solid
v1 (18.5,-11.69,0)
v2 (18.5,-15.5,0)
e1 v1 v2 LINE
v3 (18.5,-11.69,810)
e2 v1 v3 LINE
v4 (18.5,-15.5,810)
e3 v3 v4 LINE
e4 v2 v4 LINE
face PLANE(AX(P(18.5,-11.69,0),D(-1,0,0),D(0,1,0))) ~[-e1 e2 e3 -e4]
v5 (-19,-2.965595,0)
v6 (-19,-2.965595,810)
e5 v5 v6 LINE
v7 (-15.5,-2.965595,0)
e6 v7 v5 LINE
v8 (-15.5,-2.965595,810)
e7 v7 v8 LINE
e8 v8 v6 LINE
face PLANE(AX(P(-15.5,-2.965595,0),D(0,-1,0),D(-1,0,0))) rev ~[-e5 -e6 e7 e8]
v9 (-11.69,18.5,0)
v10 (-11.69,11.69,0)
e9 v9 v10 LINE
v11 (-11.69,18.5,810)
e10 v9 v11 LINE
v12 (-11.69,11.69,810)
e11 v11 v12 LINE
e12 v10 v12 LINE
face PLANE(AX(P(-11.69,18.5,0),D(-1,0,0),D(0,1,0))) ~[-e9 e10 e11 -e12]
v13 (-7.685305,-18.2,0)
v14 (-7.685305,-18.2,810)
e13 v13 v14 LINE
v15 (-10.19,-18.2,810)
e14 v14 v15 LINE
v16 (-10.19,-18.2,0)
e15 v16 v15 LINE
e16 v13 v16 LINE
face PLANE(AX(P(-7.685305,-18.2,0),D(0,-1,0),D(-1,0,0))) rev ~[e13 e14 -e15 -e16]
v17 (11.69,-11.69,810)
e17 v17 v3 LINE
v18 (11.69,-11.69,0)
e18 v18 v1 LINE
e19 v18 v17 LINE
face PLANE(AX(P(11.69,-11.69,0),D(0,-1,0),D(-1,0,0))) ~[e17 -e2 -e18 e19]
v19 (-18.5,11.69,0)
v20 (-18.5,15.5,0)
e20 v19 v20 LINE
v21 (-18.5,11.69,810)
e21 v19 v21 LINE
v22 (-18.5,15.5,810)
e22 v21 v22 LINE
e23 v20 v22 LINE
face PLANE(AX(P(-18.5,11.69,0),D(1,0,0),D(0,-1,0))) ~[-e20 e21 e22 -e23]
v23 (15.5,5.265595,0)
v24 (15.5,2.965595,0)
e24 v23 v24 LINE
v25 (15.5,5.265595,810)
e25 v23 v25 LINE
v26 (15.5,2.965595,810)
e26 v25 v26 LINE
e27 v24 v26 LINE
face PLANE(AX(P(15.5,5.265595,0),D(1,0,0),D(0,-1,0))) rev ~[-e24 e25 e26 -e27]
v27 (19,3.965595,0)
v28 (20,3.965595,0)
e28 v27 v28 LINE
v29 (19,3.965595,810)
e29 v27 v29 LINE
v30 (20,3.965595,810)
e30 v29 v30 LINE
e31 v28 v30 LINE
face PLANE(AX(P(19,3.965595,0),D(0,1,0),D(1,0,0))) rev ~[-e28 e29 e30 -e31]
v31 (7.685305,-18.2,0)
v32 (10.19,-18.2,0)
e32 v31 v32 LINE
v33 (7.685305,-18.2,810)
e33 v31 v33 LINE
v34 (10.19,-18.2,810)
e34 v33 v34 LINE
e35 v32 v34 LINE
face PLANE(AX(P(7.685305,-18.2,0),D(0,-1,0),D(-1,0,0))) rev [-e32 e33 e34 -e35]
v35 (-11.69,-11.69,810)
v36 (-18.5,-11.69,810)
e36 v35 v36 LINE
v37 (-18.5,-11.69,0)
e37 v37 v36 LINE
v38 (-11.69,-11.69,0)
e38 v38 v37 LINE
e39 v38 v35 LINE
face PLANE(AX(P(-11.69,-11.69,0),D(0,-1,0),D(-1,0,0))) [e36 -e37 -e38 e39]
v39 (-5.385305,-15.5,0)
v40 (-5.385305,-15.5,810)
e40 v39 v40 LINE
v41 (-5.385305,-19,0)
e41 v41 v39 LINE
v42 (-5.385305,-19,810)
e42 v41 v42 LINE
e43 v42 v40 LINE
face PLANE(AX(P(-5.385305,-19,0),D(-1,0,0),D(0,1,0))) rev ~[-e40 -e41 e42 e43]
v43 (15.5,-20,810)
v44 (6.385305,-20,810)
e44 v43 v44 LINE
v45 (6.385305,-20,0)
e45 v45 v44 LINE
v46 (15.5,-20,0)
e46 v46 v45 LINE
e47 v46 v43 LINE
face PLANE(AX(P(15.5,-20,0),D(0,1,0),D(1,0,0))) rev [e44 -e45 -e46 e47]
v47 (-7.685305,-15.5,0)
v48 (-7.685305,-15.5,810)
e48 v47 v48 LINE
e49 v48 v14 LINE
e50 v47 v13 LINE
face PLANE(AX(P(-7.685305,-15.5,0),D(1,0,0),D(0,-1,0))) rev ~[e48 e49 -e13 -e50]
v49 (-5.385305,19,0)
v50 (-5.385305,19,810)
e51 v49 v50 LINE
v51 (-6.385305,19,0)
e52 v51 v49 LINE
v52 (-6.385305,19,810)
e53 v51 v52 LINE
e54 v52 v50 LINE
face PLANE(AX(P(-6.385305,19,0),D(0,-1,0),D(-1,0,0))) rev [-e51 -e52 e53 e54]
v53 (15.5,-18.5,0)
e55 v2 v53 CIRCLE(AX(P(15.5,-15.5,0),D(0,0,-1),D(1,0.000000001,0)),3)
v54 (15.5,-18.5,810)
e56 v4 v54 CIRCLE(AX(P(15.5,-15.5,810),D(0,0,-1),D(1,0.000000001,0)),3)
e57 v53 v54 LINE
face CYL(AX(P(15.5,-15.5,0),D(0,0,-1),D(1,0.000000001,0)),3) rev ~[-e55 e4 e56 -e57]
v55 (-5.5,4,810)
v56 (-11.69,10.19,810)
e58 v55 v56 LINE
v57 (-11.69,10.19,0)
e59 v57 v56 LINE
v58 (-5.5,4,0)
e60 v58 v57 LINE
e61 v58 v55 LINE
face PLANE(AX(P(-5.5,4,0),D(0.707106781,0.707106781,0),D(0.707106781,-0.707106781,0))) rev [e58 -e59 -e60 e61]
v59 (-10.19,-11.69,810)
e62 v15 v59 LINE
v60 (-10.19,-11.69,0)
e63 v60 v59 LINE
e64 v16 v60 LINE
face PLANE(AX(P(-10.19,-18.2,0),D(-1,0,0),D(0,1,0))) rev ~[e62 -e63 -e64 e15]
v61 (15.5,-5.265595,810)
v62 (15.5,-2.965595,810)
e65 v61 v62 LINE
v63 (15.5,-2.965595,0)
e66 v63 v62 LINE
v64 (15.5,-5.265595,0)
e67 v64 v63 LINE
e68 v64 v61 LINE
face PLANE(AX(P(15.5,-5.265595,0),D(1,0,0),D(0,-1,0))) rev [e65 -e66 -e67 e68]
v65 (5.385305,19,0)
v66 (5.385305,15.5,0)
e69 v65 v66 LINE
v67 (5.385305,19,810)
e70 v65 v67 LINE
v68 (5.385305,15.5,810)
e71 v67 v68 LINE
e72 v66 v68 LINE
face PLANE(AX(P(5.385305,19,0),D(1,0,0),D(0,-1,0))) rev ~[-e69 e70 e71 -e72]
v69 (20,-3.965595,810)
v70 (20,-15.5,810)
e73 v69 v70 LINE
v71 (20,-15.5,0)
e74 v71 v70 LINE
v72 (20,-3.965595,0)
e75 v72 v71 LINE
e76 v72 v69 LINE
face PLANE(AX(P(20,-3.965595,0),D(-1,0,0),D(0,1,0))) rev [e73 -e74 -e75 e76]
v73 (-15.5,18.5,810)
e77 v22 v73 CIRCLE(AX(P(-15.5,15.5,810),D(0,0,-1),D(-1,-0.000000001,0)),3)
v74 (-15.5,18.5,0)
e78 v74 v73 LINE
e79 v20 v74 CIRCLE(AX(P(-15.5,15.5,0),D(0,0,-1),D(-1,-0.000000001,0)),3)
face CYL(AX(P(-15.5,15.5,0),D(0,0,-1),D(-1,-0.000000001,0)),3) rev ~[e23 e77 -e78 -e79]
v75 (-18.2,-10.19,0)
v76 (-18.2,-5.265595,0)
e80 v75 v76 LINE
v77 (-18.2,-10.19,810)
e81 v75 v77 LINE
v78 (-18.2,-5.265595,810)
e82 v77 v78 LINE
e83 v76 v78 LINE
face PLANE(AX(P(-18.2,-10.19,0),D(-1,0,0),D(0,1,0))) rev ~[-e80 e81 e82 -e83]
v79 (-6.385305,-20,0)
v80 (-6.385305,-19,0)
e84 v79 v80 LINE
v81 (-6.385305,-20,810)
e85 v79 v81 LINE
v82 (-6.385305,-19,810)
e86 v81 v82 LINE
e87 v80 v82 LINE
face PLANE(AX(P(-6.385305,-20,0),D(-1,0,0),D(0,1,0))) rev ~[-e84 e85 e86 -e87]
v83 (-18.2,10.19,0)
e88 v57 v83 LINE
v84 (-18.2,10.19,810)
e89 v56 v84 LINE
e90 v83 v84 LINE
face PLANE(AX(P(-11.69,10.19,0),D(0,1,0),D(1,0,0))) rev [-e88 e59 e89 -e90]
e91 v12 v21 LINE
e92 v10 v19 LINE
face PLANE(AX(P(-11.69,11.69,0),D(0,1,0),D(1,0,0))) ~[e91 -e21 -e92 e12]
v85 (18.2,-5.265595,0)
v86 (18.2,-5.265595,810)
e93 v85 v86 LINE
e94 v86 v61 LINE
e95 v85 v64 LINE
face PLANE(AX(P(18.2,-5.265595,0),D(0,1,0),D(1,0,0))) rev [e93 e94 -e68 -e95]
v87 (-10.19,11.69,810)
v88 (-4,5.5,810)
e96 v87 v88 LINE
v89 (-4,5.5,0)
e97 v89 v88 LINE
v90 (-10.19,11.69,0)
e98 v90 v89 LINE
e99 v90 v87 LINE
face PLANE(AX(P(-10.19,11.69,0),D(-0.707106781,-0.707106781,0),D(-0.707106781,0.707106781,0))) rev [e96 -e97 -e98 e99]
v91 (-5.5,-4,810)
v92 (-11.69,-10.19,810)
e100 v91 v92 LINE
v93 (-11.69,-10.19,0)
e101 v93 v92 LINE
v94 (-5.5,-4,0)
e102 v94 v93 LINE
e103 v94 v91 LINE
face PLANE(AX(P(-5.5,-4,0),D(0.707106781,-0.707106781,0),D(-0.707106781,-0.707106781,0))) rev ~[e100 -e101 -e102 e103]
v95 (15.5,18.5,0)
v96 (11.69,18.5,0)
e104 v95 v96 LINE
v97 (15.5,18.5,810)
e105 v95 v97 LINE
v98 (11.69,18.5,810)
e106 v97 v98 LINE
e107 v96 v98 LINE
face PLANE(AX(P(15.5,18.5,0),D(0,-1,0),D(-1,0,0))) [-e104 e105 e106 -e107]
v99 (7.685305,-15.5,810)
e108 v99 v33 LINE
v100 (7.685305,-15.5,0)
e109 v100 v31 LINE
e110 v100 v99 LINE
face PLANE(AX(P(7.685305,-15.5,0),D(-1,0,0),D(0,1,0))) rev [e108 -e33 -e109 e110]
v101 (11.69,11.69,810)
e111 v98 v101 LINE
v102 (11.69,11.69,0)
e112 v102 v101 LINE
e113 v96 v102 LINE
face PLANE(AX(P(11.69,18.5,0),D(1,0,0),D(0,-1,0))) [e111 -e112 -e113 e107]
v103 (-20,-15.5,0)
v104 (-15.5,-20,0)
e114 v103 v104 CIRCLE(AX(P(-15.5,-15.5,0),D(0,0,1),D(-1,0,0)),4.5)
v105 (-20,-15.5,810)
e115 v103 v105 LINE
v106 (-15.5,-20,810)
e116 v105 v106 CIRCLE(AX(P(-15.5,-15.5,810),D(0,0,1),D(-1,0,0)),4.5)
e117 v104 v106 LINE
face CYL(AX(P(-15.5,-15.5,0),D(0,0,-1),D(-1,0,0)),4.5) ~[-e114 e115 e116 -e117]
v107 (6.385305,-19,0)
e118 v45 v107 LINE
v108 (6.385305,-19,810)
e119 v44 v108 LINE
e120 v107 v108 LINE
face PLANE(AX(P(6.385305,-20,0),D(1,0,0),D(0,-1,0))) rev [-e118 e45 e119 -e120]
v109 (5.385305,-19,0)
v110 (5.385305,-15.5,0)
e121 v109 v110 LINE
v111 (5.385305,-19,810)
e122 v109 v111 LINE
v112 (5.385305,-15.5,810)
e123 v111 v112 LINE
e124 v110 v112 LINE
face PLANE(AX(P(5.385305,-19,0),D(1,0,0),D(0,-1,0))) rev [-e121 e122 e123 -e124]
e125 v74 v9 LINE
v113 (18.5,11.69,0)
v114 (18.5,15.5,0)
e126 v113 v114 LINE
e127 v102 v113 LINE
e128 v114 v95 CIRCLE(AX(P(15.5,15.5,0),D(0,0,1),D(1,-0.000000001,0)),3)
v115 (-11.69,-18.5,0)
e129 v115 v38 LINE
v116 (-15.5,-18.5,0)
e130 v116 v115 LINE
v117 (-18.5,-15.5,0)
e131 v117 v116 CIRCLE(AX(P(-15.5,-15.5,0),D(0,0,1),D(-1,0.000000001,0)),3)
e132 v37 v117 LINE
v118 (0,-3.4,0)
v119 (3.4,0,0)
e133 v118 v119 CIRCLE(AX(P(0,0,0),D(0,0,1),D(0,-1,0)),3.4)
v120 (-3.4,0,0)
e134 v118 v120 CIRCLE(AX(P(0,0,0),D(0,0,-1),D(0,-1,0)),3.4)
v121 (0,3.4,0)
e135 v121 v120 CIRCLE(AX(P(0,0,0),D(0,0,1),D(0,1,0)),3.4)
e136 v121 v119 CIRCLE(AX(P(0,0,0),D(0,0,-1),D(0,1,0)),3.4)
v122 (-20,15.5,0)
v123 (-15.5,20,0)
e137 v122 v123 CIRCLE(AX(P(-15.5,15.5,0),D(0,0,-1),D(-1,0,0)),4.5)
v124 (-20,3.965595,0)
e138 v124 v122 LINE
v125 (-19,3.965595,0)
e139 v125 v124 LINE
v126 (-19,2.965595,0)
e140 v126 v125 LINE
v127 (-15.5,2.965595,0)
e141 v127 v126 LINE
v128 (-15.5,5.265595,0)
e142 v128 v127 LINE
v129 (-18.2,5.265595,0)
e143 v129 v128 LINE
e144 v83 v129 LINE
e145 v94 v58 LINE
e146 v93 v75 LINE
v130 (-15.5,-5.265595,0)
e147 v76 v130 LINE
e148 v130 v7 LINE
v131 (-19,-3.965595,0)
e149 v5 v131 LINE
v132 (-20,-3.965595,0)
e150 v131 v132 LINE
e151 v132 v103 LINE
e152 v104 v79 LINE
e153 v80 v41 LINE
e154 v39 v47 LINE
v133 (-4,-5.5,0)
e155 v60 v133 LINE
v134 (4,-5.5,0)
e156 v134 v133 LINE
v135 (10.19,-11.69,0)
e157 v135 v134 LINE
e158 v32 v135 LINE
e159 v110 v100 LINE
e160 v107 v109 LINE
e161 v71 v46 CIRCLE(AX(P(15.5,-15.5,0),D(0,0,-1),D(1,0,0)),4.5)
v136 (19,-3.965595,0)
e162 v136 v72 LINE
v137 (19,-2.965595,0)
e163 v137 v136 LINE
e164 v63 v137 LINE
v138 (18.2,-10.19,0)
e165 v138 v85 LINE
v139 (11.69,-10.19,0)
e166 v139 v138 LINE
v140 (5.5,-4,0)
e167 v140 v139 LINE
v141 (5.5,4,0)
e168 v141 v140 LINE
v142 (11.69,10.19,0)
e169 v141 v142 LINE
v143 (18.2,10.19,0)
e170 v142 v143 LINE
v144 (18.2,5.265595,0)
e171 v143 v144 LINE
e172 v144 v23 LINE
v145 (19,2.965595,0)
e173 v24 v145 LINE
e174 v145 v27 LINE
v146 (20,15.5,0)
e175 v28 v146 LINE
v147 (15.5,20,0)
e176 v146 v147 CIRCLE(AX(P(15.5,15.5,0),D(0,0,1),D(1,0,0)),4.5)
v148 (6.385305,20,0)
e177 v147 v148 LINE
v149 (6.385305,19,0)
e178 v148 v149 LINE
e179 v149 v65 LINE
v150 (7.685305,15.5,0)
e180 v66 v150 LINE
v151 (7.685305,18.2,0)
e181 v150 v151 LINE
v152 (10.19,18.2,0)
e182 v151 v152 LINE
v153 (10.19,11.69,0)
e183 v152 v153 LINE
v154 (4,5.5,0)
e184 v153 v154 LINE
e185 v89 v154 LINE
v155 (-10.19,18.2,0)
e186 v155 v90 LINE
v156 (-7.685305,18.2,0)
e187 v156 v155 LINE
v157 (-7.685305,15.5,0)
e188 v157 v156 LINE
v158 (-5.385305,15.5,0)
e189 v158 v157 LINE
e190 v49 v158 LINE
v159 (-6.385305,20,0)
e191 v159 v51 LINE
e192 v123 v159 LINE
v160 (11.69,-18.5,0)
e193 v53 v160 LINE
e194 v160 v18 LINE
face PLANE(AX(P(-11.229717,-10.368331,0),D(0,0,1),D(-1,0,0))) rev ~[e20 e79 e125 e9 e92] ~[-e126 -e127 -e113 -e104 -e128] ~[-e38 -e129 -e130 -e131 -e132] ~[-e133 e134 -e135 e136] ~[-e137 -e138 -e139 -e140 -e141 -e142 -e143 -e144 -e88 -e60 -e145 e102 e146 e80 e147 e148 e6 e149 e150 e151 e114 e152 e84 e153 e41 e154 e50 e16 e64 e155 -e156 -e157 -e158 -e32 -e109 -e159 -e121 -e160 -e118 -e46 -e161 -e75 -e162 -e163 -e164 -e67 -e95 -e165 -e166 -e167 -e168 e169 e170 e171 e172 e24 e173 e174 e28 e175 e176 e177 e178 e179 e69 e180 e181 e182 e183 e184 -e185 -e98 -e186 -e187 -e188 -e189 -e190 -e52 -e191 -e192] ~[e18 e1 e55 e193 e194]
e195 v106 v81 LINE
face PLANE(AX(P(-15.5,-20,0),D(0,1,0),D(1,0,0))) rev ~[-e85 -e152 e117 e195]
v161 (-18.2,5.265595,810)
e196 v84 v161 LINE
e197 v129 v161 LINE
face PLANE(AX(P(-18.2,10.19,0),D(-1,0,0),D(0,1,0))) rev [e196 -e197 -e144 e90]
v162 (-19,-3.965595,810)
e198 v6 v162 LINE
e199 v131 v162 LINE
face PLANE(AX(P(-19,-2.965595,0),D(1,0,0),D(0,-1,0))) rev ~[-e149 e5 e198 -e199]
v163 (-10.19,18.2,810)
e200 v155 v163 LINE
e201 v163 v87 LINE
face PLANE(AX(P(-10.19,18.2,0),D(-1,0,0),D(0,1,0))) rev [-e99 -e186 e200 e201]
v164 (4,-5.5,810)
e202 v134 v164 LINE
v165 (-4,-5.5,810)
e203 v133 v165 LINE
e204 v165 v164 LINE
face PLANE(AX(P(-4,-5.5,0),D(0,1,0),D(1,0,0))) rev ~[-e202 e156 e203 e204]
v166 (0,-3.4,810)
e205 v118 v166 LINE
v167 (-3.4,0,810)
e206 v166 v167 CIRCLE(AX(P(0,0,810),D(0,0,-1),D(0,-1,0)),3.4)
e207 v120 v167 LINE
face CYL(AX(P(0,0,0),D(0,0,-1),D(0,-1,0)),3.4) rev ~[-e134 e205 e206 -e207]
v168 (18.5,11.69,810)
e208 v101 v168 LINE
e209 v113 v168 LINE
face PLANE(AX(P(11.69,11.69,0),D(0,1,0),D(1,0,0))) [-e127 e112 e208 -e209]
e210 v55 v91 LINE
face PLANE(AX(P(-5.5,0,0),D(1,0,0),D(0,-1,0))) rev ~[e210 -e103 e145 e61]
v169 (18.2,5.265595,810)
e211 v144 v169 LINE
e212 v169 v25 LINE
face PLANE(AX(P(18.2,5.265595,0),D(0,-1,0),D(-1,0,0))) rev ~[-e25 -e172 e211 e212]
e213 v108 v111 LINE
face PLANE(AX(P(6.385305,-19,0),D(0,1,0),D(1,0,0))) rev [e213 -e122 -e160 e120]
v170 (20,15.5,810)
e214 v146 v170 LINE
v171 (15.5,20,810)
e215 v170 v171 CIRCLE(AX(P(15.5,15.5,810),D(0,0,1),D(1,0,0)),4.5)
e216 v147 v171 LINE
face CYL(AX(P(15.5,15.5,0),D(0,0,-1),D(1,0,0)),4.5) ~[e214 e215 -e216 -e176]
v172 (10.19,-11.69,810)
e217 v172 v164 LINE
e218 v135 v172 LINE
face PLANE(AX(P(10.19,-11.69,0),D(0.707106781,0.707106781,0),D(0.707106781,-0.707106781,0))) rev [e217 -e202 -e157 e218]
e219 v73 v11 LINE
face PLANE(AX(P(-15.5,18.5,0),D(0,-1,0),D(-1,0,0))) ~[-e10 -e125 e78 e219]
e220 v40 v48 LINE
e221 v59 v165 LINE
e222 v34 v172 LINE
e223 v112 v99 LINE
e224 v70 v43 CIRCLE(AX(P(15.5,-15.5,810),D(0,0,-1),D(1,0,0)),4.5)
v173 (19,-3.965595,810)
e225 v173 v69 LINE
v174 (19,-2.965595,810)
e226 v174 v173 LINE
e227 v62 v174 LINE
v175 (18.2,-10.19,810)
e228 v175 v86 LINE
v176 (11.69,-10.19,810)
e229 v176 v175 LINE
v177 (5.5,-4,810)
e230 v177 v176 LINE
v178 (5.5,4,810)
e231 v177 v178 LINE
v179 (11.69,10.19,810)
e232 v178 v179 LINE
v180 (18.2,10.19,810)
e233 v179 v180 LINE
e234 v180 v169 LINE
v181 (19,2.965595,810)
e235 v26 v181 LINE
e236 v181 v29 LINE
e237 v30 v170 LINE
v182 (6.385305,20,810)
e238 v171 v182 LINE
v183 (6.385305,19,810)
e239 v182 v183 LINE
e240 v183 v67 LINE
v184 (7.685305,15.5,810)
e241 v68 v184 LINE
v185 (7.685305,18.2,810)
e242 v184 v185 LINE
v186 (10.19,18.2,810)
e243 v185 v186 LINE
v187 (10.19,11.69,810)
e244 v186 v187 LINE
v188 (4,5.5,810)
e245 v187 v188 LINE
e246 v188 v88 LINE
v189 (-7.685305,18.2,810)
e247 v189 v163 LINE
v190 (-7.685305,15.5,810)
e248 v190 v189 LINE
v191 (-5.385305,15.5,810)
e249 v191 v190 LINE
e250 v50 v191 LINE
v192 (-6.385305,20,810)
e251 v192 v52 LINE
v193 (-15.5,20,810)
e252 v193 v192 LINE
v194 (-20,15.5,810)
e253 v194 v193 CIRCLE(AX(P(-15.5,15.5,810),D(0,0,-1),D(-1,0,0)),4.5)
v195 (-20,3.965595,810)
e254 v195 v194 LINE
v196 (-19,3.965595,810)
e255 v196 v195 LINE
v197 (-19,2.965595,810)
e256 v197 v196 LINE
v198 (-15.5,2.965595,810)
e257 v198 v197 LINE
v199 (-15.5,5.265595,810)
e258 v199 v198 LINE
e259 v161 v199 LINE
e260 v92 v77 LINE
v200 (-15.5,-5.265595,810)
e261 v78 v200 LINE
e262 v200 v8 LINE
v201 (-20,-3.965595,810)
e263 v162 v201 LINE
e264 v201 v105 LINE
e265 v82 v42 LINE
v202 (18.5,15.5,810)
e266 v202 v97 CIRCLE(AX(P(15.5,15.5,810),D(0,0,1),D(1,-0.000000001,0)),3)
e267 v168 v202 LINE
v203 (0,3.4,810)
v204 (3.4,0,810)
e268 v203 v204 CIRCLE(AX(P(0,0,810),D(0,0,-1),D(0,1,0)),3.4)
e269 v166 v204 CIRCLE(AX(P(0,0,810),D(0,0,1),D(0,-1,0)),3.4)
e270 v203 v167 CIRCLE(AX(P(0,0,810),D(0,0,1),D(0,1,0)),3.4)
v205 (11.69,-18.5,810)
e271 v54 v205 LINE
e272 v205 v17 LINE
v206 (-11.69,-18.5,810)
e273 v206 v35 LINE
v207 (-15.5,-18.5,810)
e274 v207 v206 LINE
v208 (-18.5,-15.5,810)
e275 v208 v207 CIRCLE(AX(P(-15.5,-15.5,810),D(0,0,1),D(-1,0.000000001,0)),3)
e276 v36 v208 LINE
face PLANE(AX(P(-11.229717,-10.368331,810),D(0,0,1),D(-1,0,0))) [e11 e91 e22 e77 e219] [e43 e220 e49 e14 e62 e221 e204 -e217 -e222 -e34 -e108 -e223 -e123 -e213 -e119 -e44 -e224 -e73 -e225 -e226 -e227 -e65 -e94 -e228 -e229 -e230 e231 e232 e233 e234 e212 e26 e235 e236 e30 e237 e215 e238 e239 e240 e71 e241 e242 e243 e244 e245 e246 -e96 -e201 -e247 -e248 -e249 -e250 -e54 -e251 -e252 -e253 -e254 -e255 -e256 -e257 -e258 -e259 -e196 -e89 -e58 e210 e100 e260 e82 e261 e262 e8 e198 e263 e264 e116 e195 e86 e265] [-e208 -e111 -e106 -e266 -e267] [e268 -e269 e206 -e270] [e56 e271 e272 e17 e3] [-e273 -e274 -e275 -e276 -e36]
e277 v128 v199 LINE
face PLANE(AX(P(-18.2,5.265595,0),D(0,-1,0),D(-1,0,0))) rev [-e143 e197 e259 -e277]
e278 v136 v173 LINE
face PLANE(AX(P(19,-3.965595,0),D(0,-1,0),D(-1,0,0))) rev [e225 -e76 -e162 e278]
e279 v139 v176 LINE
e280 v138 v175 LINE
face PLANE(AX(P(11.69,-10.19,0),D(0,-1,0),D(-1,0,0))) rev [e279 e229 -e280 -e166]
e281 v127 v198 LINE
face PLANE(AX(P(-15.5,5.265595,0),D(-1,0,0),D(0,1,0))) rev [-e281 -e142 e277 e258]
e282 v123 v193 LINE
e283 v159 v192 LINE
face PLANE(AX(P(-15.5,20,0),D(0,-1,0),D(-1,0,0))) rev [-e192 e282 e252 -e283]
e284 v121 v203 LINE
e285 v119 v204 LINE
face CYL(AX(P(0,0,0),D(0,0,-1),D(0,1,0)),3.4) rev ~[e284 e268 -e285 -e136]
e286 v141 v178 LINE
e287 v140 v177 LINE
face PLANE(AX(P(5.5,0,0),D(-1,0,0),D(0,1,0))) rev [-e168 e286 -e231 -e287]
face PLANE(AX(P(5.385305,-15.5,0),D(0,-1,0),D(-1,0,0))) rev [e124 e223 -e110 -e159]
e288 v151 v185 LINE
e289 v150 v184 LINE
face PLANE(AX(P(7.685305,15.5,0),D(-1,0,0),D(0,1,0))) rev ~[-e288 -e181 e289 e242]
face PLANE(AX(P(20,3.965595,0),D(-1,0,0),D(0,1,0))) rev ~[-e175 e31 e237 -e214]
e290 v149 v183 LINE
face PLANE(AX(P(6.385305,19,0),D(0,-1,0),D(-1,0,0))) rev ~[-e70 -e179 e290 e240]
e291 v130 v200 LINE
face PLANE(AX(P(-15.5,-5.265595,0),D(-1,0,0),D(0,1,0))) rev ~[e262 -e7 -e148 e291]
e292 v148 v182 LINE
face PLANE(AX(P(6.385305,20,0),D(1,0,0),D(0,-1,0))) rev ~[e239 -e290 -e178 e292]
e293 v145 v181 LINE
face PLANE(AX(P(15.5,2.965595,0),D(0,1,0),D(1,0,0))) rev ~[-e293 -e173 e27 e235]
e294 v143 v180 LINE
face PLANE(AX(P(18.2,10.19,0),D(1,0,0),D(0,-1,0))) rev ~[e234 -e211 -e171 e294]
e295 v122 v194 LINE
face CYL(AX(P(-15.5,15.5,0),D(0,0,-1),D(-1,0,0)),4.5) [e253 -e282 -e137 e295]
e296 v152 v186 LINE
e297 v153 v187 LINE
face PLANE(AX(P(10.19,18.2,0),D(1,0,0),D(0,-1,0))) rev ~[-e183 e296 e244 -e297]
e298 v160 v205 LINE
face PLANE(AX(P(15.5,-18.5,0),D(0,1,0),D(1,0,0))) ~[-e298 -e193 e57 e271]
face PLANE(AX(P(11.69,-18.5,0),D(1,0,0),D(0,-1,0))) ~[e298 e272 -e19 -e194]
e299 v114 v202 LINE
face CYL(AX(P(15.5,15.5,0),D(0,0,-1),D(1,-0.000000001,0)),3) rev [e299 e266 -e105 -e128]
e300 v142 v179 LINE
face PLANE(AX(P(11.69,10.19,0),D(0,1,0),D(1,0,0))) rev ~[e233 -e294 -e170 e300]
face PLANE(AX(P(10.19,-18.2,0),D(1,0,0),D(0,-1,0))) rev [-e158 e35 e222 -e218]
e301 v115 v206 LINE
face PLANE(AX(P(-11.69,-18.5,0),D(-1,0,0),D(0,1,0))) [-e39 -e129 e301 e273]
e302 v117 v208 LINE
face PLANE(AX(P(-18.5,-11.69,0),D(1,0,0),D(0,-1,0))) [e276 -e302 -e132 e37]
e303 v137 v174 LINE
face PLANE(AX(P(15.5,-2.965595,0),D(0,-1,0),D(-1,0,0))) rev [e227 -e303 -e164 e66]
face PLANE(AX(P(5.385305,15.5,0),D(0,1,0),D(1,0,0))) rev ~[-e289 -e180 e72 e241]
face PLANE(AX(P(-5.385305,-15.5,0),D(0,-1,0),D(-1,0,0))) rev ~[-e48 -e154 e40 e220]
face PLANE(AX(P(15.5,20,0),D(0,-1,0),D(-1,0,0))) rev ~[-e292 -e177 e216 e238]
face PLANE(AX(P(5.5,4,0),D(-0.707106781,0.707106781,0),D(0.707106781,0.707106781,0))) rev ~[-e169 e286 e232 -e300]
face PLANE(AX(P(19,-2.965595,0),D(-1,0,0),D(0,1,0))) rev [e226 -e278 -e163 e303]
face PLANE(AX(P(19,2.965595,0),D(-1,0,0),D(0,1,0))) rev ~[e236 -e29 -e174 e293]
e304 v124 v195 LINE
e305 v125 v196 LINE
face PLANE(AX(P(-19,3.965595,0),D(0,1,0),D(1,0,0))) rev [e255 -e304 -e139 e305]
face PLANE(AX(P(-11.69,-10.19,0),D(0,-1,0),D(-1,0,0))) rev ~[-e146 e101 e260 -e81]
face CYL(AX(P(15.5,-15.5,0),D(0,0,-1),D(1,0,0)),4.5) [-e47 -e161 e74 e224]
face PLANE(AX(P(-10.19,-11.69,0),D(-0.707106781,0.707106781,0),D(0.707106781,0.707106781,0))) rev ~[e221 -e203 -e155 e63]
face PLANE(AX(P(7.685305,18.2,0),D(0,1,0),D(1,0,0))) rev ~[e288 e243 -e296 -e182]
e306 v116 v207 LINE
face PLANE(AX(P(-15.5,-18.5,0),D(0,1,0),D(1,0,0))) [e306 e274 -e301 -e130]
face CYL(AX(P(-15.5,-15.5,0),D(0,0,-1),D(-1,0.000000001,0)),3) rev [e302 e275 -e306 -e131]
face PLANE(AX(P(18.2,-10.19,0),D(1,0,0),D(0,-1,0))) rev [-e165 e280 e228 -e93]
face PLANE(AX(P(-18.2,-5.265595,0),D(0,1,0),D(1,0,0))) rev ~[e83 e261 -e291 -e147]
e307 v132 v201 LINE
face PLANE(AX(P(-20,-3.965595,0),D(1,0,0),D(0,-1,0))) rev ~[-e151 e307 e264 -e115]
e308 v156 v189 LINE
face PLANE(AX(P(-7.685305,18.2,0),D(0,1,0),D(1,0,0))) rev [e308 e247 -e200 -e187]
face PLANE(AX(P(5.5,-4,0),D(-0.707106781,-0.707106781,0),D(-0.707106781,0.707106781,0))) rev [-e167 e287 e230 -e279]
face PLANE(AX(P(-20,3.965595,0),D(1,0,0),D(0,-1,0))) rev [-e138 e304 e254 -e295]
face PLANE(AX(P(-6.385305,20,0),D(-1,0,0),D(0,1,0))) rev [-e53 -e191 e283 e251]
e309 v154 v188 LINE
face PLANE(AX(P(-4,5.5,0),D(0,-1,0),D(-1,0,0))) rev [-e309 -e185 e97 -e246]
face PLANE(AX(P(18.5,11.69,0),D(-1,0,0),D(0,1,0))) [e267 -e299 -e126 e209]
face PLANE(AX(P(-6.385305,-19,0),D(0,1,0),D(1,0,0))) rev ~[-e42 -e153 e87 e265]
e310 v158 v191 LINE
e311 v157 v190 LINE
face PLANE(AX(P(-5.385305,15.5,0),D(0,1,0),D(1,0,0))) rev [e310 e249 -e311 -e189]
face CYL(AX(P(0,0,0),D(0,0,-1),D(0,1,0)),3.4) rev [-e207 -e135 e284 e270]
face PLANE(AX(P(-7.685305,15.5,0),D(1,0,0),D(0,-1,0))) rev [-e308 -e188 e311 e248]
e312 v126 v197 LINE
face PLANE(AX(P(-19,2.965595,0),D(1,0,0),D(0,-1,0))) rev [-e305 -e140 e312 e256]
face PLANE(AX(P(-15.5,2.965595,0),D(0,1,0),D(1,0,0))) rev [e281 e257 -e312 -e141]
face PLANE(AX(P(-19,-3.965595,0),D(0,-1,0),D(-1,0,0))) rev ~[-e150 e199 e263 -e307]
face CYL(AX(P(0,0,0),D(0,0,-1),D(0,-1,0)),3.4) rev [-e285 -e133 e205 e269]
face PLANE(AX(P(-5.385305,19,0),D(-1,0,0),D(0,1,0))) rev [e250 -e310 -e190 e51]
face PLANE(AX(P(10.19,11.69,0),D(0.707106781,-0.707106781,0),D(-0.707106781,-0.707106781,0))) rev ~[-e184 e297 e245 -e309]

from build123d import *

# Parameters (mm, degrees)
BOSS_EXTRUDE1_DEPTH  = 810
MIRROR3_COPY_1_DEPTH = 810
MIRROR3_COPY_2_DEPTH = 810


with BuildPart() as part:
    # Sketch1 → Boss-Extrude1 (new body)
    with BuildSketch(Plane.XY):
        with BuildLine():
            Line((3.4, 0), (5.5, 0))
            Line((5.5, 0), (5.5, 4))
            Line((5.5, 4), (11.69, 10.19))
            Line((11.69, 10.19), (18.2, 10.19))
            Line((18.2, 10.19), (18.2, 5.265595036))
            Line((18.2, 5.265595036), (15.5, 5.265595036))
            Line((15.5, 5.265595036), (15.5, 2.965595036))
            Line((15.5, 2.965595036), (19, 2.965595036))
            Line((19, 2.965595036), (19, 3.965595036))
            Line((19, 3.965595036), (20, 3.965595036))
            Line((20, 3.965595036), (20, 15.5))
            ThreePointArc((20, 15.5), (18.681980515, 18.681980515), (15.5, 20))
            Line((15.5, 20), (6.385304712, 20))
            Line((6.385304712, 20), (6.385304712, 19))
            Line((6.385304712, 19), (5.385304712, 19))
            Line((5.385304712, 19), (5.385304712, 15.5))
            Line((5.385304712, 15.5), (7.685304712, 15.5))
            Line((7.685304712, 15.5), (7.685304712, 18.2))
            Line((7.685304712, 18.2), (10.19, 18.2))
            Line((10.19, 18.2), (10.19, 11.69))
            Line((10.19, 11.69), (4, 5.5))
            Line((4, 5.5), (0, 5.5))
            Line((0, 5.5), (0, 3.4))
            ThreePointArc((0, 3.4), (2.404163056, 2.404163056), (3.4, 0))
        make_face()
        with BuildLine():
            Line((18.5, 11.69), (18.5, 15.5))
            ThreePointArc((18.5, 15.5), (17.621320344, 17.621320344), (15.5, 18.5))
            Line((15.5, 18.5), (11.69, 18.5))
            Line((11.69, 18.5), (11.69, 11.69))
            Line((11.69, 11.69), (18.5, 11.69))
        make_face(mode=Mode.SUBTRACT)
    boss_extrude1 = extrude(amount=BOSS_EXTRUDE1_DEPTH)

    # Mirror1: Boss-Extrude1 across plane
    add(boss_extrude1.mirror(Plane.ZX))

    # Mirror2: Boss-Extrude1 across plane
    add(boss_extrude1.mirror(Plane(origin=(0, 0, 0), x_dir=(0, 0, 1), z_dir=(1, 0, 0))))

    # Mirror3 copy 1 sketch → Mirror3 copy 1 (add)
    with BuildSketch(Plane(origin=(0, 0, 0), x_dir=(-1, 0, 0), z_dir=(0, 0, 1))):
        with BuildLine():
            Line((3.4, 0), (5.5, 0))
            Line((5.5, 0), (5.5, 4))
            Line((5.5, 4), (11.69, 10.19))
            Line((11.69, 10.19), (18.2, 10.19))
            Line((18.2, 10.19), (18.2, 5.265595036))
            Line((18.2, 5.265595036), (15.5, 5.265595036))
            Line((15.5, 5.265595036), (15.5, 2.965595036))
            Line((15.5, 2.965595036), (19, 2.965595036))
            Line((19, 2.965595036), (19, 3.965595036))
            Line((19, 3.965595036), (20, 3.965595036))
            Line((20, 3.965595036), (20, 15.5))
            ThreePointArc((20, 15.5), (18.681980515, 18.681980515), (15.5, 20))
            Line((15.5, 20), (6.385304712, 20))
            Line((6.385304712, 20), (6.385304712, 19))
            Line((6.385304712, 19), (5.385304712, 19))
            Line((5.385304712, 19), (5.385304712, 15.5))
            Line((5.385304712, 15.5), (7.685304712, 15.5))
            Line((7.685304712, 15.5), (7.685304712, 18.2))
            Line((7.685304712, 18.2), (10.19, 18.2))
            Line((10.19, 18.2), (10.19, 11.69))
            Line((10.19, 11.69), (4, 5.5))
            Line((4, 5.5), (0, 5.5))
            Line((0, 5.5), (0, 3.4))
            ThreePointArc((0, 3.4), (2.404163056, 2.404163056), (3.4, 0))
        make_face()
        with BuildLine():
            Line((18.5, 11.69), (18.5, 15.5))
            ThreePointArc((18.5, 15.5), (17.621320344, 17.621320344), (15.5, 18.5))
            Line((15.5, 18.5), (11.69, 18.5))
            Line((11.69, 18.5), (11.69, 11.69))
            Line((11.69, 11.69), (18.5, 11.69))
        make_face(mode=Mode.SUBTRACT)
    extrude(amount=MIRROR3_COPY_1_DEPTH)

    # Mirror3 copy 2 sketch → Mirror3 copy 2 (add)
    with BuildSketch(Plane.XY):
        with BuildLine():
            Line((3.4, 0), (5.5, 0))
            Line((5.5, 0), (5.5, -4))
            Line((5.5, -4), (11.69, -10.19))
            Line((11.69, -10.19), (18.2, -10.19))
            Line((18.2, -10.19), (18.2, -5.265595036))
            Line((18.2, -5.265595036), (15.5, -5.265595036))
            Line((15.5, -5.265595036), (15.5, -2.965595036))
            Line((15.5, -2.965595036), (19, -2.965595036))
            Line((19, -2.965595036), (19, -3.965595036))
            Line((19, -3.965595036), (20, -3.965595036))
            Line((20, -3.965595036), (20, -15.5))
            ThreePointArc((20, -15.5), (18.681980515, -18.681980515), (15.5, -20))
            Line((15.5, -20), (6.385304712, -20))
            Line((6.385304712, -20), (6.385304712, -19))
            Line((6.385304712, -19), (5.385304712, -19))
            Line((5.385304712, -19), (5.385304712, -15.5))
            Line((5.385304712, -15.5), (7.685304712, -15.5))
            Line((7.685304712, -15.5), (7.685304712, -18.2))
            Line((7.685304712, -18.2), (10.19, -18.2))
            Line((10.19, -18.2), (10.19, -11.69))
            Line((10.19, -11.69), (4, -5.5))
            Line((4, -5.5), (0, -5.5))
            Line((0, -5.5), (0, -3.4))
            ThreePointArc((0, -3.4), (2.404163056, -2.404163056), (3.4, 0))
        make_face()
        with BuildLine():
            Line((18.5, -11.69), (18.5, -15.5))
            ThreePointArc((18.5, -15.5), (17.621320344, -17.621320344), (15.5, -18.5))
            Line((15.5, -18.5), (11.69, -18.5))
            Line((11.69, -18.5), (11.69, -11.69))
            Line((11.69, -11.69), (18.5, -11.69))
        make_face(mode=Mode.SUBTRACT)
    extrude(amount=MIRROR3_COPY_2_DEPTH)


solid = part.part
